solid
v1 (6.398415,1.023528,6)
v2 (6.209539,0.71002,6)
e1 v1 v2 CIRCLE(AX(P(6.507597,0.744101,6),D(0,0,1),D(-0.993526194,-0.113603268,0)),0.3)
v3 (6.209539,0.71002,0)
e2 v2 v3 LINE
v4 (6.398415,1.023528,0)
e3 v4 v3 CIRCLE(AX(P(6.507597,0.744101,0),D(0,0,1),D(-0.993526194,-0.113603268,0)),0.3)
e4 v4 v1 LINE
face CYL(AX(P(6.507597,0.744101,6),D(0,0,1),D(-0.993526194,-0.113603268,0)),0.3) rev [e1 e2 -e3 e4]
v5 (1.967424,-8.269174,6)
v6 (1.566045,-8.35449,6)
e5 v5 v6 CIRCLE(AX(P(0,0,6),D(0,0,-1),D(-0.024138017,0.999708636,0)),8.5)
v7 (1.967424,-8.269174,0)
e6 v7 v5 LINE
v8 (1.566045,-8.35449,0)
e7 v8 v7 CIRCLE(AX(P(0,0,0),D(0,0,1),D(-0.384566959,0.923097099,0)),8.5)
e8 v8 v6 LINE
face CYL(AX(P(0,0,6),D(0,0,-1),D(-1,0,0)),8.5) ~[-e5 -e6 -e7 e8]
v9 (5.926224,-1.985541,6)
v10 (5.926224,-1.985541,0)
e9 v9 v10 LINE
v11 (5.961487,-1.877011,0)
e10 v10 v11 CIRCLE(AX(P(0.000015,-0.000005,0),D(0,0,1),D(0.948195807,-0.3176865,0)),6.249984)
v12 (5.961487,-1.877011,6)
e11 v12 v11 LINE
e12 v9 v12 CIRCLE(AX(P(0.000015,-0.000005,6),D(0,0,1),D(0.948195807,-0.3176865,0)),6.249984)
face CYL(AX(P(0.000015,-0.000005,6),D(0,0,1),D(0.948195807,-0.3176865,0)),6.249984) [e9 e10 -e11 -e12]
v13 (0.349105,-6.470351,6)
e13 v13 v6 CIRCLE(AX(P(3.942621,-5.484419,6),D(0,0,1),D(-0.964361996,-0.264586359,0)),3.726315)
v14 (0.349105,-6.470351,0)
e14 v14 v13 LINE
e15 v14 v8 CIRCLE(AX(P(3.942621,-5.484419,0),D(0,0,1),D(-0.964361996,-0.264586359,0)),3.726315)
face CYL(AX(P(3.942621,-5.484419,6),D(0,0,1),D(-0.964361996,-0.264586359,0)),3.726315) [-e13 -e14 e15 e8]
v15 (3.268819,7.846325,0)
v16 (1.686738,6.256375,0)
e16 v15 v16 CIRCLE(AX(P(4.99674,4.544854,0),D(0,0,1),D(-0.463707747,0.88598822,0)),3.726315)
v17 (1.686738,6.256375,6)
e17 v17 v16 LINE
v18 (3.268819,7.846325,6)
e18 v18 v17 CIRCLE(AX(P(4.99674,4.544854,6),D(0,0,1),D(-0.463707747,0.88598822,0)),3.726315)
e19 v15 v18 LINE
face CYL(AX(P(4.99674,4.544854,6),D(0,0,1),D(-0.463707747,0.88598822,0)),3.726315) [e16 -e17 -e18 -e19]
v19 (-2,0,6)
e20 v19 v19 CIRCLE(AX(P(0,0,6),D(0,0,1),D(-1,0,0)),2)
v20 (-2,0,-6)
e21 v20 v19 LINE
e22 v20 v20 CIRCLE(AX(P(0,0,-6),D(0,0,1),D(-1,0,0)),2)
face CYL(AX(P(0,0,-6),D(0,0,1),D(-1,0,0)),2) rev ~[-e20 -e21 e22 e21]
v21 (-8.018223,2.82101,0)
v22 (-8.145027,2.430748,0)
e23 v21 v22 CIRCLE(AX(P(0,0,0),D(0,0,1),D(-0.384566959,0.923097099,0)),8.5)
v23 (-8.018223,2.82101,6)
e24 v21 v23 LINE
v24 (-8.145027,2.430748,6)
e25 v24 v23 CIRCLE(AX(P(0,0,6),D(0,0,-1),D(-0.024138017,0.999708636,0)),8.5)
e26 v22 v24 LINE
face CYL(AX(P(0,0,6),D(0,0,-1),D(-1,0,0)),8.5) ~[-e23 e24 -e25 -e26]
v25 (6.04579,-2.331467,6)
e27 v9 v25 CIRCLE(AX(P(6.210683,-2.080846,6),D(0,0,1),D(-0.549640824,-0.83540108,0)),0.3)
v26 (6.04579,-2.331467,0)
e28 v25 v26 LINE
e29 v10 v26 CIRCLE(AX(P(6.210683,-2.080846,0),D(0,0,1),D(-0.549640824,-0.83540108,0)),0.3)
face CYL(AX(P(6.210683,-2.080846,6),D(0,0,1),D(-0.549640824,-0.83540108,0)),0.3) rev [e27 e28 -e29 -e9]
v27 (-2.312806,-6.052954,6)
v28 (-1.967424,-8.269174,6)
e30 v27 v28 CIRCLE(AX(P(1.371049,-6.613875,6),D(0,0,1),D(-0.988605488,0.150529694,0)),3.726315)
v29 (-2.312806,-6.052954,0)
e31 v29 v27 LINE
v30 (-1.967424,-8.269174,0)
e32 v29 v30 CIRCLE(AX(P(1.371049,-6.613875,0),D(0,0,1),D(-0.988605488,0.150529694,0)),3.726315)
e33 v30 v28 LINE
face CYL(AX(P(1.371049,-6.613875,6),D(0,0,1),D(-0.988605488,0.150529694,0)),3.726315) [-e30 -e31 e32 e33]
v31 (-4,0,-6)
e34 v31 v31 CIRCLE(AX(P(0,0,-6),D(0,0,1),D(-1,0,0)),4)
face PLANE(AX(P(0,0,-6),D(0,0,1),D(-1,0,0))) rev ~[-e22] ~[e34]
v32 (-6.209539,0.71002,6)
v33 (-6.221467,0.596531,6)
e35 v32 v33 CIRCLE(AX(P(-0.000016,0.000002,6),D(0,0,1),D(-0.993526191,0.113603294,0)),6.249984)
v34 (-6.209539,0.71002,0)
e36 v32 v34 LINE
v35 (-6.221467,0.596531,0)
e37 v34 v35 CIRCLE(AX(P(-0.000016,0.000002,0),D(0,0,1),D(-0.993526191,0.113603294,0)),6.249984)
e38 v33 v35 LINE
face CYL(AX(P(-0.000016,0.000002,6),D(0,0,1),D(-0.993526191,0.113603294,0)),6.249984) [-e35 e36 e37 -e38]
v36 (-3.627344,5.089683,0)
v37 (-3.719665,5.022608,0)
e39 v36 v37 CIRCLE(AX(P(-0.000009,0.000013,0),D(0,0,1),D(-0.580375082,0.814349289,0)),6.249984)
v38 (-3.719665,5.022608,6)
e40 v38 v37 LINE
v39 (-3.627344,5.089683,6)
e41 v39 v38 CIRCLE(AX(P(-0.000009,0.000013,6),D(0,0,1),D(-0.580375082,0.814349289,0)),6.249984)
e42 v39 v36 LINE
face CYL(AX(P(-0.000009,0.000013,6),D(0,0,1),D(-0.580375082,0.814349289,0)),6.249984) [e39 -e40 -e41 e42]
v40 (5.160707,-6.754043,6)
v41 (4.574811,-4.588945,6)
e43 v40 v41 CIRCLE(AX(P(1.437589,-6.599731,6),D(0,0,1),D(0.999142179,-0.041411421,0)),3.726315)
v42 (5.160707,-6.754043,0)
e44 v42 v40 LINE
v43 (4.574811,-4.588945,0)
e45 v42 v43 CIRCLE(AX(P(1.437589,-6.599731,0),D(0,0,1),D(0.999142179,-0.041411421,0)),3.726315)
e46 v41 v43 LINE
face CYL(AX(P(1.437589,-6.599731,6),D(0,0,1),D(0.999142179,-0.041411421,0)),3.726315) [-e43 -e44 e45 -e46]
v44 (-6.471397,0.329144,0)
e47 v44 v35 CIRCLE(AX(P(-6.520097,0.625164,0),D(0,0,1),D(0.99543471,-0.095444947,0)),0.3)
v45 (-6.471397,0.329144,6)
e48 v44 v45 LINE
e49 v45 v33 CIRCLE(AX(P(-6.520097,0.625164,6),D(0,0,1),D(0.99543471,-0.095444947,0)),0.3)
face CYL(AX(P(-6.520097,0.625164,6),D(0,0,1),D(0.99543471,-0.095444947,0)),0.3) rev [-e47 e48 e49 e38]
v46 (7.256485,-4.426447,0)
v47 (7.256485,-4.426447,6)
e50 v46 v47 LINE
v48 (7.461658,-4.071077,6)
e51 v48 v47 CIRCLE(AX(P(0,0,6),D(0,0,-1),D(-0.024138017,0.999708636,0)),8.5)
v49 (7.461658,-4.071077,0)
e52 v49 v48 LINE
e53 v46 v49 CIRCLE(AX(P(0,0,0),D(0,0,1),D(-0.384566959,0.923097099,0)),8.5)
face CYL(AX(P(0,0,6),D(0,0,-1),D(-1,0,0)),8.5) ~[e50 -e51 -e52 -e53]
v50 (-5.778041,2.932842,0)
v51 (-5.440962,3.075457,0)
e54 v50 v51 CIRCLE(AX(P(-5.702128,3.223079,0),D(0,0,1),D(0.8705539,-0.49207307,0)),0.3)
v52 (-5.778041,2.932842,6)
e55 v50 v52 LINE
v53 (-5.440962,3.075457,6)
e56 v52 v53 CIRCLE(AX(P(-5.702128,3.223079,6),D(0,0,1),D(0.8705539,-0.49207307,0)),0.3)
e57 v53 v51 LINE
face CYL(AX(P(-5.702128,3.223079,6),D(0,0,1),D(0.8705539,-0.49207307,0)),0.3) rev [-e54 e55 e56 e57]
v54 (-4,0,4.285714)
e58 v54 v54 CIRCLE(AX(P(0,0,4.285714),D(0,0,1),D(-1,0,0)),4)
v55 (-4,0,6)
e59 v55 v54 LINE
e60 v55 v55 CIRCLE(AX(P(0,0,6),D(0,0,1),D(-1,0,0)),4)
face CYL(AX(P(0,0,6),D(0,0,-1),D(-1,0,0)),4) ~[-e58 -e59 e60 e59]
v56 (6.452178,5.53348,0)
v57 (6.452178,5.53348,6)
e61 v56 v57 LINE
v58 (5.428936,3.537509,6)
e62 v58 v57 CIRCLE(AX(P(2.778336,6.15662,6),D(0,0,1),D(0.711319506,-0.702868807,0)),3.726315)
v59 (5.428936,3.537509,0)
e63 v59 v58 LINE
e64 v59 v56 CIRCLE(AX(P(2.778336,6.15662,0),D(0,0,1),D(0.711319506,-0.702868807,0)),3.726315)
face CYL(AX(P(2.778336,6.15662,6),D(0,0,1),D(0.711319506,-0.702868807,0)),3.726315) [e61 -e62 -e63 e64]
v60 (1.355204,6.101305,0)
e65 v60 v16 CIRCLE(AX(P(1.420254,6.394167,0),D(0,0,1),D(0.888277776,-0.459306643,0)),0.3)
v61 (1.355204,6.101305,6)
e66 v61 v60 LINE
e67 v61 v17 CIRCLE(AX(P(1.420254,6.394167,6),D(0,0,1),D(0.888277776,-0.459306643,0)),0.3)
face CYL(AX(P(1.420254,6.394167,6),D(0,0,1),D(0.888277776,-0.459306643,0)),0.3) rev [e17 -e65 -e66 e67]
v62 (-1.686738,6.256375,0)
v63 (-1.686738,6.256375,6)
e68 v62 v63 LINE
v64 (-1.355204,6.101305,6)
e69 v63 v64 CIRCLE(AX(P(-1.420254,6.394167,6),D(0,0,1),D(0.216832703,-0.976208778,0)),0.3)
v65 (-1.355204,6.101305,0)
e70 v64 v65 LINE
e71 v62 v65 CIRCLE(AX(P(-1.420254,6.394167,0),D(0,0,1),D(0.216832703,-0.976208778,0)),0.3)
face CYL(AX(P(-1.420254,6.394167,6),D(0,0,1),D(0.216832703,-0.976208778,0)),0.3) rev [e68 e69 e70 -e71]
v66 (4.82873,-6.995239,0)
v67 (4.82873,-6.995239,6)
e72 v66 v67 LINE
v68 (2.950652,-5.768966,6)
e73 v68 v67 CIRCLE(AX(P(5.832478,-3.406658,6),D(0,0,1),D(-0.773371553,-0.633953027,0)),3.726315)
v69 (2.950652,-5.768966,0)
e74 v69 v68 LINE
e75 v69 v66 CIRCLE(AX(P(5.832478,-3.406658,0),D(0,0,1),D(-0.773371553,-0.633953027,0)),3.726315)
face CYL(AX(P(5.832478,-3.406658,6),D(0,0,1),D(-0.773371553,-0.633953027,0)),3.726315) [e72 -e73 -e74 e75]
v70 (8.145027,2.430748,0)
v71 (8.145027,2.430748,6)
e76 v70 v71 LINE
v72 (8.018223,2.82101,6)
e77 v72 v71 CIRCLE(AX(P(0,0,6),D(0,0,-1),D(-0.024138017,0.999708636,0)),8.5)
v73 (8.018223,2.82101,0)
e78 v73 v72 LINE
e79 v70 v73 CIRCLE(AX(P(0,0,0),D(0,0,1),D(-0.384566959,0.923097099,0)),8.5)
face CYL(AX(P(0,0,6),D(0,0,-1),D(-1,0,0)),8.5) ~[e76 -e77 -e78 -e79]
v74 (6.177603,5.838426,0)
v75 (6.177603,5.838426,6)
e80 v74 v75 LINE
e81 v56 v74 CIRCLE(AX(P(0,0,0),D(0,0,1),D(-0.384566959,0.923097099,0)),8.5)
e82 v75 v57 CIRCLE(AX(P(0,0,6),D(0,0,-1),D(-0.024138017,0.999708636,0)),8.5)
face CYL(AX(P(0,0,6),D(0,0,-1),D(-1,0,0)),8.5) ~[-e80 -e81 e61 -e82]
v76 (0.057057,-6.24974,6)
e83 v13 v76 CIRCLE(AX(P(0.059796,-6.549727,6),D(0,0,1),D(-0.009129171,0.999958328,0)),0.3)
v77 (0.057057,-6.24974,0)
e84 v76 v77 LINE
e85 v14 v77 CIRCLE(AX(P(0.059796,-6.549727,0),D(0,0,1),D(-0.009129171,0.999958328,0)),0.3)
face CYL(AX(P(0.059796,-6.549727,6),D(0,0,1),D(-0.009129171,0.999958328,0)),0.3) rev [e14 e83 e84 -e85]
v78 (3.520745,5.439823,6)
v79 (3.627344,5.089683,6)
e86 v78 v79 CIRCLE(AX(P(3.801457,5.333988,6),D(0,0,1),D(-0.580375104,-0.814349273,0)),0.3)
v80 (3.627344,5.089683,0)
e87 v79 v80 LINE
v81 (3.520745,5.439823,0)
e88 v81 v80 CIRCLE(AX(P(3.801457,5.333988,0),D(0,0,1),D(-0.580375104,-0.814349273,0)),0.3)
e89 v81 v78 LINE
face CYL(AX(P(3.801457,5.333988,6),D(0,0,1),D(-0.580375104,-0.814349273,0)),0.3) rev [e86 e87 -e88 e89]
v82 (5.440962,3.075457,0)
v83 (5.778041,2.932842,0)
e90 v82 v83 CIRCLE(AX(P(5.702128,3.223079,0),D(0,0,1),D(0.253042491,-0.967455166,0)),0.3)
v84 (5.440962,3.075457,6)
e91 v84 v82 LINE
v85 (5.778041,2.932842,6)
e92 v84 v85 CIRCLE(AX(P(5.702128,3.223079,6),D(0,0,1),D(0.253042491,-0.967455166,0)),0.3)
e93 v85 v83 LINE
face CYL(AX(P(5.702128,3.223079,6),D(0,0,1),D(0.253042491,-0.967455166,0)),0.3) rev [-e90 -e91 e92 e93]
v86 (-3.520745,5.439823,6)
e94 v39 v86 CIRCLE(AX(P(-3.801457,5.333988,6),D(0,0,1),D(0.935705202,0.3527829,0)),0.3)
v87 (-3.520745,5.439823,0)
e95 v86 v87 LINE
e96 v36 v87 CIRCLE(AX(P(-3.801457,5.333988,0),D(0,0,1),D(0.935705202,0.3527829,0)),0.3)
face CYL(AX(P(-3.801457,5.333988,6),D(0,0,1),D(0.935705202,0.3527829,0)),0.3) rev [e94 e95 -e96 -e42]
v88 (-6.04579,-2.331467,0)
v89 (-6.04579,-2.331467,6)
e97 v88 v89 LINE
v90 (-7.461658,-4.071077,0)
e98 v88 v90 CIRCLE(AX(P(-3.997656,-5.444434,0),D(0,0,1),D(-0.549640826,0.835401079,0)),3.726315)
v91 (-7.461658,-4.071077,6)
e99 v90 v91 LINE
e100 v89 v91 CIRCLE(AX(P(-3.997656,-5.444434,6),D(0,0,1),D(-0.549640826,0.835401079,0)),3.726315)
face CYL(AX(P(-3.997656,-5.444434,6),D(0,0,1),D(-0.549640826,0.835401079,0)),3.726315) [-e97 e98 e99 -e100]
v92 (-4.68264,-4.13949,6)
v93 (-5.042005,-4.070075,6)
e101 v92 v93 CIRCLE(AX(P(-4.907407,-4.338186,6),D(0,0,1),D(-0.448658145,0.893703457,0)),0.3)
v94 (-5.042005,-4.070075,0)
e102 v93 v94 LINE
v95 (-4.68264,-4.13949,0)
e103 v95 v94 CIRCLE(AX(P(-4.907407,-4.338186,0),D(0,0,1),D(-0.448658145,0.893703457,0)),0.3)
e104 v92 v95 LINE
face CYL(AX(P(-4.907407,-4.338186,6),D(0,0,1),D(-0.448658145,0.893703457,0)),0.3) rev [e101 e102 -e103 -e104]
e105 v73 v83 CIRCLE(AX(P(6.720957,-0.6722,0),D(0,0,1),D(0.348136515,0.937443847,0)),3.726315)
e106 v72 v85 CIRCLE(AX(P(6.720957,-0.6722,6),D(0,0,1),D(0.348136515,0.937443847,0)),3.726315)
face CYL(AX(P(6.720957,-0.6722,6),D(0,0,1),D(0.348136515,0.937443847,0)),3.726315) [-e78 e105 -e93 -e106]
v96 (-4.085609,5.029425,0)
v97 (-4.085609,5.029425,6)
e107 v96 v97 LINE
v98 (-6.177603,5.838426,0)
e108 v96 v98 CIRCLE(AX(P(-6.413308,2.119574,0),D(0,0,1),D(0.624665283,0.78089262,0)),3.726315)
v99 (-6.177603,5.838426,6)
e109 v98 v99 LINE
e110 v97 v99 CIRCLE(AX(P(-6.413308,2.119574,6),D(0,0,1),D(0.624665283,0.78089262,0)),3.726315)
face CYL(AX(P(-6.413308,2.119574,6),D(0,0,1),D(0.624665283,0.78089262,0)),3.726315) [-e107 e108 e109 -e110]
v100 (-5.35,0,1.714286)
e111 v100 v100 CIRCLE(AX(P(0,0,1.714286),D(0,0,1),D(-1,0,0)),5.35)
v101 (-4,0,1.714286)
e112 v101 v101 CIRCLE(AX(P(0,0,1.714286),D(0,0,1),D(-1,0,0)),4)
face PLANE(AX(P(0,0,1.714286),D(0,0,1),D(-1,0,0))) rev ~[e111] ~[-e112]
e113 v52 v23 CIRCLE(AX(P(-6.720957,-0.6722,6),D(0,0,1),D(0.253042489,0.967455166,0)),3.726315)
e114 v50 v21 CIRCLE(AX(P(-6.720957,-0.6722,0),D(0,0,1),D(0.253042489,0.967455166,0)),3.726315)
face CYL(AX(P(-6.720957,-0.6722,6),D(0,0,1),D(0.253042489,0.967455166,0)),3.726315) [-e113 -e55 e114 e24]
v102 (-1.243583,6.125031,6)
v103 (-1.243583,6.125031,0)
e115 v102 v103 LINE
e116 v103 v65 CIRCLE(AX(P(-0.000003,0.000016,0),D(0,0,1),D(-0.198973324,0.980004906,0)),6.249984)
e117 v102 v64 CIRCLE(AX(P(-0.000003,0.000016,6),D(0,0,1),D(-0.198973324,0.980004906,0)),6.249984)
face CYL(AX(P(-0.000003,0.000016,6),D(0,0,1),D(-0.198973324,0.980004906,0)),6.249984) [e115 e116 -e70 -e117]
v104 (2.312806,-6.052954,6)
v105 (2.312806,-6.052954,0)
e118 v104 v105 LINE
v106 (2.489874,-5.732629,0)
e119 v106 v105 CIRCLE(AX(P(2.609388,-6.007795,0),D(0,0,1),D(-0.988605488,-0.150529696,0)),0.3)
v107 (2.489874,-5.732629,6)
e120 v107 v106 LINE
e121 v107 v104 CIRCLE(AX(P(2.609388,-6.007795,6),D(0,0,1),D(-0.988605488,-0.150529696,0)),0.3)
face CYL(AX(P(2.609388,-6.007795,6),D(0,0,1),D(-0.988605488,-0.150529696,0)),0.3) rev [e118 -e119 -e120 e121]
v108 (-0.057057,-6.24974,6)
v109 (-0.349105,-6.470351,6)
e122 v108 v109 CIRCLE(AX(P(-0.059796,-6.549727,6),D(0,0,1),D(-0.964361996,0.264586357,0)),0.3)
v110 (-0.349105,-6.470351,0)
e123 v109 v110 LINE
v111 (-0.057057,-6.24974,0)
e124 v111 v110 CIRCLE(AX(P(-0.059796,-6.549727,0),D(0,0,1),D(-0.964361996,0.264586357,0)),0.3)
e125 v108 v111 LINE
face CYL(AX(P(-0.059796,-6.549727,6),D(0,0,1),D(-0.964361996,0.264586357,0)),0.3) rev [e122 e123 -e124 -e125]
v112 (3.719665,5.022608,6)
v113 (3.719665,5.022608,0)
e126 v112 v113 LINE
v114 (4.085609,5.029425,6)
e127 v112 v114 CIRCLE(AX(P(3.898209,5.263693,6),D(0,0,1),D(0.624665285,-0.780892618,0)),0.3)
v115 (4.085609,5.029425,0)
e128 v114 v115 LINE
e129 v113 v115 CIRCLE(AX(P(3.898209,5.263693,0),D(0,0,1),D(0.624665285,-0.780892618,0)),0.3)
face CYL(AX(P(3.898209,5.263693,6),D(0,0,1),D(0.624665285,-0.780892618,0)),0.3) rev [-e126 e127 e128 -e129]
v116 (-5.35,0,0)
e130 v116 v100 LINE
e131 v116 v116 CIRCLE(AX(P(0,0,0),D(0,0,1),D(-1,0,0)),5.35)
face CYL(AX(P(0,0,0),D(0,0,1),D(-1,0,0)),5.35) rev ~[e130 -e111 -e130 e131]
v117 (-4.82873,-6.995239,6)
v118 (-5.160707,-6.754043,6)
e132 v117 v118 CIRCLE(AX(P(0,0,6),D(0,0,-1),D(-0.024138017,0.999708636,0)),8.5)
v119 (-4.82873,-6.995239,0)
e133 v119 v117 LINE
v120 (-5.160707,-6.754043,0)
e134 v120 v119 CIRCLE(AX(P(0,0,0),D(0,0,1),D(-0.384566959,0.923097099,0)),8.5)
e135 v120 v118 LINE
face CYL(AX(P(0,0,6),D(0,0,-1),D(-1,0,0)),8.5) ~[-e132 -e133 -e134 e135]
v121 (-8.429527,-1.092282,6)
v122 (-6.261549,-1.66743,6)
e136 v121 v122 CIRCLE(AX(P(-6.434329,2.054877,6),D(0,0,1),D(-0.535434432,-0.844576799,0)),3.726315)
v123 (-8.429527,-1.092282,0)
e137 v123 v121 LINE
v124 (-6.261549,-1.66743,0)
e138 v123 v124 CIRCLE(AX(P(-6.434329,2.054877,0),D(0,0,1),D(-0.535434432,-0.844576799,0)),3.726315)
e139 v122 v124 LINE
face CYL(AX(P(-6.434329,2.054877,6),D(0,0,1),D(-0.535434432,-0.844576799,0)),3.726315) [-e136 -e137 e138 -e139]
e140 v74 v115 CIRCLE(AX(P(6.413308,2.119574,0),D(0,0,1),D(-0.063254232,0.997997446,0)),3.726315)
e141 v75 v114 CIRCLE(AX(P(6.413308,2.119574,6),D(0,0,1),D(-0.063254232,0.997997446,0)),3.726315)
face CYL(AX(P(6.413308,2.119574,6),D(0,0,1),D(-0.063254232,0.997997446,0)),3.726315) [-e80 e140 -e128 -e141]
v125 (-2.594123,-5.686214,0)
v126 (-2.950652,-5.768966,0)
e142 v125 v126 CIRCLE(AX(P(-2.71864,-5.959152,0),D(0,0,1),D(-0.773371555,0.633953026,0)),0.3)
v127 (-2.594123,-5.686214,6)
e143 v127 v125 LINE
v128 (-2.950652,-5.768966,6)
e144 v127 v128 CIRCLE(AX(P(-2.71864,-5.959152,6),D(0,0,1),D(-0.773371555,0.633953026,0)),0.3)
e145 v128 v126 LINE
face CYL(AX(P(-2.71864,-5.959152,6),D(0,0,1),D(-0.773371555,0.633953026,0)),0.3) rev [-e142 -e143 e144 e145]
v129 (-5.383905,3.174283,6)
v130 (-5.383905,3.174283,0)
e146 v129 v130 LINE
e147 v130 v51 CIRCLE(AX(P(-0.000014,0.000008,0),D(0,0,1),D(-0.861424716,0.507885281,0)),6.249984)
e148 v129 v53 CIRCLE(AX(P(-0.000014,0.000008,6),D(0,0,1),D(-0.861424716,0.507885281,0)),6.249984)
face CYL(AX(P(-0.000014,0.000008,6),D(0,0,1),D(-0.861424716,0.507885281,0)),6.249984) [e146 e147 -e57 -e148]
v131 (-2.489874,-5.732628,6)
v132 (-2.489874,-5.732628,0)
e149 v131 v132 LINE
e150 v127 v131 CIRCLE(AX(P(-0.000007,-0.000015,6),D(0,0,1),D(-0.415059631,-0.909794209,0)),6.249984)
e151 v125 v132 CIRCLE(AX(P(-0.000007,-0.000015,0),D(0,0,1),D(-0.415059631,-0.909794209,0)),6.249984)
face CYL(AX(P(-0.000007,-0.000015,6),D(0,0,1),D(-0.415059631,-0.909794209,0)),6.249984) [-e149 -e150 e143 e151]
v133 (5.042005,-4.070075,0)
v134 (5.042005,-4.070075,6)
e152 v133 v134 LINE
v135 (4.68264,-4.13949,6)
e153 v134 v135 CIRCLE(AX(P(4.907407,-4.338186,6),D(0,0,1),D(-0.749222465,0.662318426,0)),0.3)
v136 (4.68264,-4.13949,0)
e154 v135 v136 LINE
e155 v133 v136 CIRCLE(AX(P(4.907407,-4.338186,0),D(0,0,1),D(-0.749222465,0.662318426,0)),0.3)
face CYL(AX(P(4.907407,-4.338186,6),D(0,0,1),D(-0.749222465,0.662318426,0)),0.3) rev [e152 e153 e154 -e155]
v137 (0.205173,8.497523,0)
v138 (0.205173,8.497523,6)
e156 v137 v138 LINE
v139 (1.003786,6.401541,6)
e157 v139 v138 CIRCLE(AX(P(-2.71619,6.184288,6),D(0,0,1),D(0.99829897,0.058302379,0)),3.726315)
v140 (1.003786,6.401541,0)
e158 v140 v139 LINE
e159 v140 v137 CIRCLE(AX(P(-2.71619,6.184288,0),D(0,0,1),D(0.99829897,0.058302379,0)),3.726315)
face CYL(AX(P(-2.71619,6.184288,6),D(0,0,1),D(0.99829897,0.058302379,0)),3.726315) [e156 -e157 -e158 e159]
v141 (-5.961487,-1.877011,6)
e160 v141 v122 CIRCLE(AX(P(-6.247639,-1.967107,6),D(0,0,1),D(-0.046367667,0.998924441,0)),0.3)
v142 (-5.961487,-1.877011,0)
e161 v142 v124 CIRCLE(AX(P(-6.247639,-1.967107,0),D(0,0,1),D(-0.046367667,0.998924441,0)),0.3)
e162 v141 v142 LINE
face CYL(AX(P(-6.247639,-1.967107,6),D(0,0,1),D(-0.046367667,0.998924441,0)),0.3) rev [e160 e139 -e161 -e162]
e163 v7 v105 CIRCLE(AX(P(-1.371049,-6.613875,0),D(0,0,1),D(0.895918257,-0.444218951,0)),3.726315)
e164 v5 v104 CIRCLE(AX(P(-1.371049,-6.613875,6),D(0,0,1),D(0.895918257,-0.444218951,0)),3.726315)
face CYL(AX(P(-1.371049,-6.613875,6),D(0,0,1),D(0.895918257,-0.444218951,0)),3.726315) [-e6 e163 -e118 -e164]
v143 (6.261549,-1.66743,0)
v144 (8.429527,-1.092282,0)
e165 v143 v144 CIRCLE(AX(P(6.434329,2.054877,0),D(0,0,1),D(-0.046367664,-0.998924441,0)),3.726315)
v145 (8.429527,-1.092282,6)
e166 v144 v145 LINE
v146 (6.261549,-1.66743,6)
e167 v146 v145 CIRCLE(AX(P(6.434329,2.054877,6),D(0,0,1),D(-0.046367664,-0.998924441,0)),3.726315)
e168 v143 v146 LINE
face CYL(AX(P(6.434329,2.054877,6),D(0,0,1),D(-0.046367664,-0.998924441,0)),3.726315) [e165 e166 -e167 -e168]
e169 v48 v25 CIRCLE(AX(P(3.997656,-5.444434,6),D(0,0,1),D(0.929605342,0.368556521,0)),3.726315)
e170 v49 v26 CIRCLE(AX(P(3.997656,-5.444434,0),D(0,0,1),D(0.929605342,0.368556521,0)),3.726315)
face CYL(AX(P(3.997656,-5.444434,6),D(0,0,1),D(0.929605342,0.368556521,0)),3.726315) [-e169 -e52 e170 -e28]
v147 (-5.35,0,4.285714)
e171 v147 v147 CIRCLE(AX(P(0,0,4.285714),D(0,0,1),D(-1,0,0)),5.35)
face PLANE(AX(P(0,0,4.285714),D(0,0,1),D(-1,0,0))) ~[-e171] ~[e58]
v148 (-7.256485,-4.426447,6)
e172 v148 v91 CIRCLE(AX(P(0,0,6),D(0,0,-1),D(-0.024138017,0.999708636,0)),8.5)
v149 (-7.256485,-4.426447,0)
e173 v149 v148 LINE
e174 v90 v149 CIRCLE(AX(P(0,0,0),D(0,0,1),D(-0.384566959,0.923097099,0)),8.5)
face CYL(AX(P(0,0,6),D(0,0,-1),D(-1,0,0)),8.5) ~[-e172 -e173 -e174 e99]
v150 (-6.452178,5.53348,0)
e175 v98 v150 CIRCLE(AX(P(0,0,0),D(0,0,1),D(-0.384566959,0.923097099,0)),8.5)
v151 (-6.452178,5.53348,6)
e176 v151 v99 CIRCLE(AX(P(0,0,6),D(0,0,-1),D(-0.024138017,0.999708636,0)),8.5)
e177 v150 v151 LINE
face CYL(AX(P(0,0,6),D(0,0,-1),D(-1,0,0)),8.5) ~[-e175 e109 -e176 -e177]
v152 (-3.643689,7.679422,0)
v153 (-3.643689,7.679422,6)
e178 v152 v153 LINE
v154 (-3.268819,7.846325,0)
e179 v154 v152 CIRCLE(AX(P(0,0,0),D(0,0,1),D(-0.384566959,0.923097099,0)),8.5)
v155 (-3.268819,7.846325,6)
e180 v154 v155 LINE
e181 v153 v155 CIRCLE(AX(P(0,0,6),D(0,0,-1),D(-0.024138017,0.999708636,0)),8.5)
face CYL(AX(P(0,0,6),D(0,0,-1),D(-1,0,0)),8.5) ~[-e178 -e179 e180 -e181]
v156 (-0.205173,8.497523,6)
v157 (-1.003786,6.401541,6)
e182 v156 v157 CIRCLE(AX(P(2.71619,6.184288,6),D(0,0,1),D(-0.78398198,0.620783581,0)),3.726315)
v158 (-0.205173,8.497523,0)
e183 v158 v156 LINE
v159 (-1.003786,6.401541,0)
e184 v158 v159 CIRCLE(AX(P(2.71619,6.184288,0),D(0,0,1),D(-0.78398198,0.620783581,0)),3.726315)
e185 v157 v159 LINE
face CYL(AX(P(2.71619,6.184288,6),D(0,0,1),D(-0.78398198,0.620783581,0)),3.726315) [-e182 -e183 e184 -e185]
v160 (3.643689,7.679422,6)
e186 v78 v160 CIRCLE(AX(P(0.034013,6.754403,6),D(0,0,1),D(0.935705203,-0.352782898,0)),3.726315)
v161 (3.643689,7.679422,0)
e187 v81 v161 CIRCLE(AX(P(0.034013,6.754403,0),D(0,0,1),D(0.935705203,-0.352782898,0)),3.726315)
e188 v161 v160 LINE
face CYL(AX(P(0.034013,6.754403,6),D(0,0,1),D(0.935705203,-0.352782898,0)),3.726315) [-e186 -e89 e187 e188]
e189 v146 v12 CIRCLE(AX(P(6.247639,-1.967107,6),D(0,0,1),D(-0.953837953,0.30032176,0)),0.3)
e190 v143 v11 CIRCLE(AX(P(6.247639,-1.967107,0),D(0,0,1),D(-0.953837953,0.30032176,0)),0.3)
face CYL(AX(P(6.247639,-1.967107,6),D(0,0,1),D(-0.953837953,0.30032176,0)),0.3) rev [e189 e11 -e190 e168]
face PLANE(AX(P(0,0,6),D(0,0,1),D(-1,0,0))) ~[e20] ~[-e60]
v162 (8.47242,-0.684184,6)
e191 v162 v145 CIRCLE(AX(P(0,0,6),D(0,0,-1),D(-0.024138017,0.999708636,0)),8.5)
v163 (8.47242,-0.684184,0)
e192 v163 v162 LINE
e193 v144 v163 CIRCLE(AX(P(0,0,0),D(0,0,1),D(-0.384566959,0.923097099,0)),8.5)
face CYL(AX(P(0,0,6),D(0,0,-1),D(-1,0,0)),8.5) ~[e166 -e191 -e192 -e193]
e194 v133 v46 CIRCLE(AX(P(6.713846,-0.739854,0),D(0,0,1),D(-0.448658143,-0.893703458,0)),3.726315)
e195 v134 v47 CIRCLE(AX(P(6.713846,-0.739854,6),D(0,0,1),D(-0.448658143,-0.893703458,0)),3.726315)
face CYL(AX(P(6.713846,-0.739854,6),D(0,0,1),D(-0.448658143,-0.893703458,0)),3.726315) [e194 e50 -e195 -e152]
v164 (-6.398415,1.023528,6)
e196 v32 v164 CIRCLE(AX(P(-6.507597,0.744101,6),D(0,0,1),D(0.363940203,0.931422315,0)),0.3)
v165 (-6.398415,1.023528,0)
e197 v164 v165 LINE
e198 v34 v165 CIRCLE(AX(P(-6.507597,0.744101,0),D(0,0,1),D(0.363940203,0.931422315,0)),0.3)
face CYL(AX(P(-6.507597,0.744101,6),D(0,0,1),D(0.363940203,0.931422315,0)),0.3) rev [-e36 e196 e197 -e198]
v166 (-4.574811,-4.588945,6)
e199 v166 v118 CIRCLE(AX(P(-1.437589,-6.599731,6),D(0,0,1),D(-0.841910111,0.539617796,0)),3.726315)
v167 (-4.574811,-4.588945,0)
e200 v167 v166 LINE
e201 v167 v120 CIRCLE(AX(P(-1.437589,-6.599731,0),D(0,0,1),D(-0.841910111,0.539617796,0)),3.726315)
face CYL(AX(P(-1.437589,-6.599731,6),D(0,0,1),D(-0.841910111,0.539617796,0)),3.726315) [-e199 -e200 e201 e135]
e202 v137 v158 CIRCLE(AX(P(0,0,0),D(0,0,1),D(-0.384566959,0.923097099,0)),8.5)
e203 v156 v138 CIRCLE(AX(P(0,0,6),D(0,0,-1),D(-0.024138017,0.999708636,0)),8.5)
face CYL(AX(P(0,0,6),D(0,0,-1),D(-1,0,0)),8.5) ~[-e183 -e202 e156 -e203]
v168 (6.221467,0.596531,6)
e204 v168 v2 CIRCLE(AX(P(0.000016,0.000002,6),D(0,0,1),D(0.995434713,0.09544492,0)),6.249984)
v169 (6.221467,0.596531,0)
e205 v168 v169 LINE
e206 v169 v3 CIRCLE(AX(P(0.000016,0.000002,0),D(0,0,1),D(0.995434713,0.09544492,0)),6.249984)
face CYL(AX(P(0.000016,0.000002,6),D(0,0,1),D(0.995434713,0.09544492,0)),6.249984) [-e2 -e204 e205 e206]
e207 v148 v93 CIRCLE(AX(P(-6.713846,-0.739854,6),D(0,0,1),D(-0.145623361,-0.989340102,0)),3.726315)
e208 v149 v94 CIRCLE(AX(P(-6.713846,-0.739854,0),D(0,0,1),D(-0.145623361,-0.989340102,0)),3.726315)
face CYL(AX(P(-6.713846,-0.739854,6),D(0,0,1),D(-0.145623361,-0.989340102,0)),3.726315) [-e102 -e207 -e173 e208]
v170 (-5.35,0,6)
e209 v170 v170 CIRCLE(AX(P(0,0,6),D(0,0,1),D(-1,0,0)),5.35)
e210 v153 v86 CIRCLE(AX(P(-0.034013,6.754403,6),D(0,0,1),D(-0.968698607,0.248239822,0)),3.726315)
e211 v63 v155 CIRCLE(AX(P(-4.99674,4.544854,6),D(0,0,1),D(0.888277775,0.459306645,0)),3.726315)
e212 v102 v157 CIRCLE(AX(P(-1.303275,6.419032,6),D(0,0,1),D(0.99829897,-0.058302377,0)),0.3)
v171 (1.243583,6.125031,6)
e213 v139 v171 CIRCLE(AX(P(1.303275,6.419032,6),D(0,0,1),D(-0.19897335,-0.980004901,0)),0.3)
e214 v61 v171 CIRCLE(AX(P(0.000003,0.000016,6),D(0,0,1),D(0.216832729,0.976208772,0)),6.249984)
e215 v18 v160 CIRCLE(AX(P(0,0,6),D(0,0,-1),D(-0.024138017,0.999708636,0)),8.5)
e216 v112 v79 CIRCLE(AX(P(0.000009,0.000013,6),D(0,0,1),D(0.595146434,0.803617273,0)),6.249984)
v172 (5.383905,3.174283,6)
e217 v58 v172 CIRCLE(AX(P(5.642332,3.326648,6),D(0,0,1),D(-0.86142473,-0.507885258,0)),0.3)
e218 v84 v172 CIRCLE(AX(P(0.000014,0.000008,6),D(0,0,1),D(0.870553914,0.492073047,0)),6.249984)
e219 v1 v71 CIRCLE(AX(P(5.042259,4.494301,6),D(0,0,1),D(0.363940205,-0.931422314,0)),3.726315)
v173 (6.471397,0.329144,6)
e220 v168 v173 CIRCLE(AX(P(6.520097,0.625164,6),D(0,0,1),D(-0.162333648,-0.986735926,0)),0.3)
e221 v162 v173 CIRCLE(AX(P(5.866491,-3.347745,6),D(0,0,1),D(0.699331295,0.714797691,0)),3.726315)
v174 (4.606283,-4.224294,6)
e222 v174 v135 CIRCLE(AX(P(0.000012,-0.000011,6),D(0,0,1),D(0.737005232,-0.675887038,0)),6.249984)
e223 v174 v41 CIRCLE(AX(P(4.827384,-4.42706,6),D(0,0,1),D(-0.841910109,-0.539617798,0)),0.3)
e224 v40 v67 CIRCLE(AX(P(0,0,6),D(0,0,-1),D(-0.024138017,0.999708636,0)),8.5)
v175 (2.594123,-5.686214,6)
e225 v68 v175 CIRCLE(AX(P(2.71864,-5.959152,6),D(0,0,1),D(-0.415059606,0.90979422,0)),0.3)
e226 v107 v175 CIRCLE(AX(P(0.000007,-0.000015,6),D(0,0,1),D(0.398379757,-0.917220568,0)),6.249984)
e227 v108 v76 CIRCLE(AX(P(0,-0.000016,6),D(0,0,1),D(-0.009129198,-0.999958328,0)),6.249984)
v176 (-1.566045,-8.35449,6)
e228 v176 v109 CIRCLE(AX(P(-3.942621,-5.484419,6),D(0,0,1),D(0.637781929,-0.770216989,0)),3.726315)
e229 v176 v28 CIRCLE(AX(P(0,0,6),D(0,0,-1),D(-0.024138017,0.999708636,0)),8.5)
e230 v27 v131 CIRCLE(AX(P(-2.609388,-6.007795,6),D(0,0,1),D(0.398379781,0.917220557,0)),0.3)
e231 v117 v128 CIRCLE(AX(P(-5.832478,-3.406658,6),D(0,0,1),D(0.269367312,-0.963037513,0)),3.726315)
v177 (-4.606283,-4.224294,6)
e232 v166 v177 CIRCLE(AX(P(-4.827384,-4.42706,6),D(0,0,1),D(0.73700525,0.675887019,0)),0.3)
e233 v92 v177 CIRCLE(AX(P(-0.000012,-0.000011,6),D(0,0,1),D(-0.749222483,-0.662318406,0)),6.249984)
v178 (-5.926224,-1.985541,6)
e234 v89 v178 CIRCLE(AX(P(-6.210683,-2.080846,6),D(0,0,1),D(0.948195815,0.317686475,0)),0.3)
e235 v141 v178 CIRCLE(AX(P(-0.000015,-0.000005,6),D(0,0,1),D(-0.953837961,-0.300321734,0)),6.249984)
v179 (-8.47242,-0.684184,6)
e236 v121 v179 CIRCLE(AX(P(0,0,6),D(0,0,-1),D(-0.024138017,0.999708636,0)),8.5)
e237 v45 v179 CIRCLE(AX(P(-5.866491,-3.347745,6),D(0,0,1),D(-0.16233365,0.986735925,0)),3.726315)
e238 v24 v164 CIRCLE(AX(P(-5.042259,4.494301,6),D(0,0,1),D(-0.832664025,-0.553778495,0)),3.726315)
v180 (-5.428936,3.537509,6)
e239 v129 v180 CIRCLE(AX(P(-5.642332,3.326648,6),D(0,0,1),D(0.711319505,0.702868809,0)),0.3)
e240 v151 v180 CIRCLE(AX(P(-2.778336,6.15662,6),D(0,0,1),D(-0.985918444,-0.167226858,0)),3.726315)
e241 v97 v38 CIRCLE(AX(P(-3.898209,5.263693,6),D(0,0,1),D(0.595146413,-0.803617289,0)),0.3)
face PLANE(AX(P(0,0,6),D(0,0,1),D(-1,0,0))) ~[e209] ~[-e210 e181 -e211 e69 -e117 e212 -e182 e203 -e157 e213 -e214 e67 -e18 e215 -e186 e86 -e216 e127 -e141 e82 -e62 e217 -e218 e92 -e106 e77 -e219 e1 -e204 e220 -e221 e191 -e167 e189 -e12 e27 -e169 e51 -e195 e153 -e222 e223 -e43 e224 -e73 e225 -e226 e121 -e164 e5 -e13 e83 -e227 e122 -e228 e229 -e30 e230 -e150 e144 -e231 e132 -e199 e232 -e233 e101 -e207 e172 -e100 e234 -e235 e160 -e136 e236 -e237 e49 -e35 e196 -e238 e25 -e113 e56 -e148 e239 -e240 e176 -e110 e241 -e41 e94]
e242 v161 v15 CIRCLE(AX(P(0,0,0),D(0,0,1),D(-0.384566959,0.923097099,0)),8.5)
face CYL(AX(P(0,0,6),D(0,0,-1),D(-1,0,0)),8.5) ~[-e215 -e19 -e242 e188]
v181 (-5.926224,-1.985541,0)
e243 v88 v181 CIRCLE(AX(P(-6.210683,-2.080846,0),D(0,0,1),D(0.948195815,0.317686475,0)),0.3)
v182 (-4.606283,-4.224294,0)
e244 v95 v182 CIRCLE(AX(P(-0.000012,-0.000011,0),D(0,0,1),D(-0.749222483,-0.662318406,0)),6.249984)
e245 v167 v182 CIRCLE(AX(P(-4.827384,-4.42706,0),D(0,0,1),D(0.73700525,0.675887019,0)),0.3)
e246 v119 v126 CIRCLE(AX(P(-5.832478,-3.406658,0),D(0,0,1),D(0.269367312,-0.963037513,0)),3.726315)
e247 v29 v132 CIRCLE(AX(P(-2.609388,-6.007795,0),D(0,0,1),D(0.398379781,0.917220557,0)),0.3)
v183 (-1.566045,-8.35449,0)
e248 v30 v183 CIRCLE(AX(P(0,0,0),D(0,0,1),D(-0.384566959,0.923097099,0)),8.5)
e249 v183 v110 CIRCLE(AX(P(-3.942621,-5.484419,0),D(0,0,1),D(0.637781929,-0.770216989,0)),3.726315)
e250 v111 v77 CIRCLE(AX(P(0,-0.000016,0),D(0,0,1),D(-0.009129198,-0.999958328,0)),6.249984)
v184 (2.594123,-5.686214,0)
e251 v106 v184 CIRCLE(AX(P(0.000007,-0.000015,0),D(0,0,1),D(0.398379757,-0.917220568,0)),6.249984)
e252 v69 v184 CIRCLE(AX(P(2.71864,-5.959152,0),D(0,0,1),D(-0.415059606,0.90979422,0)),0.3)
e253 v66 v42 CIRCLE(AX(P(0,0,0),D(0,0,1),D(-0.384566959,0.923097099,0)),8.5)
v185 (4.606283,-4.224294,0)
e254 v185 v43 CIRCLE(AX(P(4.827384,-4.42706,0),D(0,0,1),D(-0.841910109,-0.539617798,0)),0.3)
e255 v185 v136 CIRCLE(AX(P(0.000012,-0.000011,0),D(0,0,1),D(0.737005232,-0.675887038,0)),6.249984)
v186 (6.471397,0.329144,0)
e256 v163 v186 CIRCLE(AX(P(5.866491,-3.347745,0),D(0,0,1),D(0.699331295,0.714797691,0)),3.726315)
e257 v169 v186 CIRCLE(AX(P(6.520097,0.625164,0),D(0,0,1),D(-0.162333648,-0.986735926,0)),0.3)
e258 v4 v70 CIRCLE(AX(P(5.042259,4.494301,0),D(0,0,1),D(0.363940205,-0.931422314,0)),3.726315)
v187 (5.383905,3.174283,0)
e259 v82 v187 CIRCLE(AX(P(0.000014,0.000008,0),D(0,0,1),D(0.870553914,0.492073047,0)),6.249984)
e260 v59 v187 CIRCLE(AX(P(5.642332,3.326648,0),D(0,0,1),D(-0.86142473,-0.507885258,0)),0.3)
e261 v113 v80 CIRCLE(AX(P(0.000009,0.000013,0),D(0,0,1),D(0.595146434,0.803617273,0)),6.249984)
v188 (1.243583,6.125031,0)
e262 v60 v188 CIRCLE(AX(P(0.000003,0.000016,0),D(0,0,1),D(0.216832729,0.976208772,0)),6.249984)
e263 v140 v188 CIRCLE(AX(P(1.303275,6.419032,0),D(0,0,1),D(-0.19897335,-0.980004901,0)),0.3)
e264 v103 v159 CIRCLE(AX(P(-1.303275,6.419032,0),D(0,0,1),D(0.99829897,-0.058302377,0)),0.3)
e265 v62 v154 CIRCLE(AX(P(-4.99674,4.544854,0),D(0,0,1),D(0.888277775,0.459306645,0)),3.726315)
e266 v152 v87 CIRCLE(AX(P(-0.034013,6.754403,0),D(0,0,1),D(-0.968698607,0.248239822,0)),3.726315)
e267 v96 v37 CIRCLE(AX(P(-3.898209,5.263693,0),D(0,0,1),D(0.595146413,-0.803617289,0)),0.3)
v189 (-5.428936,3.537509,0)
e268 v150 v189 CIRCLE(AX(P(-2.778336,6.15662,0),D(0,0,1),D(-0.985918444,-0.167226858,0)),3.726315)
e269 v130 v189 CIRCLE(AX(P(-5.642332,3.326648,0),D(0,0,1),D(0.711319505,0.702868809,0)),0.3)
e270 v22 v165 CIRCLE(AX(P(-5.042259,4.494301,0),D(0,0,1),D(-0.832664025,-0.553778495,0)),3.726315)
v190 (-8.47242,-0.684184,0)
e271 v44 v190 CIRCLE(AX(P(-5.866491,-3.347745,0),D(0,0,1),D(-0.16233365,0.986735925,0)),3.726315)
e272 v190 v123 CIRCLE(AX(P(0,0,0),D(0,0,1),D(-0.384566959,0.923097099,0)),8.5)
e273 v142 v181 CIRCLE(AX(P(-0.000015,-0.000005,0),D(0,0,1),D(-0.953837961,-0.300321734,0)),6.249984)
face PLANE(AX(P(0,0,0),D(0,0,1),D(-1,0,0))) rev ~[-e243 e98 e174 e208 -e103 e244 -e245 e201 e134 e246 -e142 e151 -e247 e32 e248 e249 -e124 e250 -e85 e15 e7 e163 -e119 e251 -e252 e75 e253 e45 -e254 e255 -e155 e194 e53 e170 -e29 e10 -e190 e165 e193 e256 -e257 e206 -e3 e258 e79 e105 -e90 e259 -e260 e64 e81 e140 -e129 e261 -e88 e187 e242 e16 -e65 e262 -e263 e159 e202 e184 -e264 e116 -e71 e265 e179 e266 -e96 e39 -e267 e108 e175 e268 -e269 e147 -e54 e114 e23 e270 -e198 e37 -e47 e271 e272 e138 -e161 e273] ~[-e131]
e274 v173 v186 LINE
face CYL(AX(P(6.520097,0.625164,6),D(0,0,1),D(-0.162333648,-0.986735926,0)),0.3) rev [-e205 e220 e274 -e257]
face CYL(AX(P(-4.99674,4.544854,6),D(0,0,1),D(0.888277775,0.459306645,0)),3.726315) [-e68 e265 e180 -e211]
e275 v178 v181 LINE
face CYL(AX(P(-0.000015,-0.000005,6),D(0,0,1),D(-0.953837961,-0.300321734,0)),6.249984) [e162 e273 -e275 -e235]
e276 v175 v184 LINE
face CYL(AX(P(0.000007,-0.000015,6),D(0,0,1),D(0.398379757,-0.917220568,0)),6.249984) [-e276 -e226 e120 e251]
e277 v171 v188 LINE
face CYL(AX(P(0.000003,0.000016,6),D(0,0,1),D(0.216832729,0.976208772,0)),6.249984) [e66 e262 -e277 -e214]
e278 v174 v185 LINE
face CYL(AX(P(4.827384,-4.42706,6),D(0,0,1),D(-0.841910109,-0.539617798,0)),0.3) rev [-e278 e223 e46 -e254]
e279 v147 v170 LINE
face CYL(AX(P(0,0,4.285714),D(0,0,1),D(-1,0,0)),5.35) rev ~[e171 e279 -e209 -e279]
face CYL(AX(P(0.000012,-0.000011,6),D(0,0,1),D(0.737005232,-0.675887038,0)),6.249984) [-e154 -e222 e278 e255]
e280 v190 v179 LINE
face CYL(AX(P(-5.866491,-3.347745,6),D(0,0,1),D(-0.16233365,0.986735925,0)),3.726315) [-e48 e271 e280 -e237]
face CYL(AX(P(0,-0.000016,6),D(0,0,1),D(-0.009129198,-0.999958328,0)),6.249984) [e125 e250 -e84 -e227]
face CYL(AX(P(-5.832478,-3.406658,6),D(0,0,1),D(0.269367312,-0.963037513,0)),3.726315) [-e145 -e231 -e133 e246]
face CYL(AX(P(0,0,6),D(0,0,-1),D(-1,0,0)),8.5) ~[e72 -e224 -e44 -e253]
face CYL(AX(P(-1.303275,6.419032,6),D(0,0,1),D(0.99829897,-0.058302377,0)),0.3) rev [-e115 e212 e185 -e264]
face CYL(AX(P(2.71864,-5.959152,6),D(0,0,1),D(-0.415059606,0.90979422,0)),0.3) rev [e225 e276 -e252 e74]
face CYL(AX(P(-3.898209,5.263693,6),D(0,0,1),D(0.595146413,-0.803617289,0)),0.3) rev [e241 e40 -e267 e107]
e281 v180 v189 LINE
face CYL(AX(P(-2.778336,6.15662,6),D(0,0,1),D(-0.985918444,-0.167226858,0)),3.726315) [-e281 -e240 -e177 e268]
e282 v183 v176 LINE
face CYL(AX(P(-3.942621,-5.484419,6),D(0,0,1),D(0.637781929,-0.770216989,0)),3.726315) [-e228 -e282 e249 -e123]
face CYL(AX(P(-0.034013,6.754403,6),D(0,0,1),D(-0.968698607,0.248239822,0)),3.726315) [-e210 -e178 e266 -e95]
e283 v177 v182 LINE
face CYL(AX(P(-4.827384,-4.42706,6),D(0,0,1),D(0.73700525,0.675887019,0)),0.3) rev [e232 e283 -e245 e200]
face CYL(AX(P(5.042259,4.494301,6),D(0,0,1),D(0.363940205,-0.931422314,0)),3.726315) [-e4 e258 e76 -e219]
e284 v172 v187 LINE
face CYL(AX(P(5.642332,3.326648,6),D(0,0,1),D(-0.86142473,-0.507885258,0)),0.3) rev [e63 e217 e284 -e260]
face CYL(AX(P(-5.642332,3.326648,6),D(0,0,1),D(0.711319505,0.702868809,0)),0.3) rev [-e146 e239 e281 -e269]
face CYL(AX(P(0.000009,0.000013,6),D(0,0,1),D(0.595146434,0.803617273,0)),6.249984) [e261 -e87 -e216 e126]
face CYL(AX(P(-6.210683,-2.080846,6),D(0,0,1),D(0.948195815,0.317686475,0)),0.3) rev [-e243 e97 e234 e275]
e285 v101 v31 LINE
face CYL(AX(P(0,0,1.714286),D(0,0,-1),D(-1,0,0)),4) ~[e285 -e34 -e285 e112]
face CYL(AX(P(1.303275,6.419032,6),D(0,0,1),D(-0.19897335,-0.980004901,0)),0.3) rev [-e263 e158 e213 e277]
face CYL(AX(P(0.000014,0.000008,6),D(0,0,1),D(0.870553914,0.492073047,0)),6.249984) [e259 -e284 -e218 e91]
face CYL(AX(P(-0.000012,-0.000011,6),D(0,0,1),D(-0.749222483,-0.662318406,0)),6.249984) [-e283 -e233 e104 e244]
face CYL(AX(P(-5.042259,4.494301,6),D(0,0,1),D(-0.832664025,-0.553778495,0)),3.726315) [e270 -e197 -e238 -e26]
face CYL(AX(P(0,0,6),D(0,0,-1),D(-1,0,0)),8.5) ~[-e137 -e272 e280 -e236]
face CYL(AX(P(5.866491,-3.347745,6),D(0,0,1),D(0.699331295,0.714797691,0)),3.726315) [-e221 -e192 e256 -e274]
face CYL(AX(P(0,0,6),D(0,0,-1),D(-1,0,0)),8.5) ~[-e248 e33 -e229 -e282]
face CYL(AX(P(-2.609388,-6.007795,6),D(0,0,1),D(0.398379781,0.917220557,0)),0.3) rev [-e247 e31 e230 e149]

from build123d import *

# Parameters (mm, degrees)
CUT_EXTRUDE1_DEPTH = 17.985287751
CIRPATTERN1_COUNT  = 15


with BuildPart() as part:
    # Sketch3 → Revolve1 (revolve)
    with BuildSketch(Plane(origin=(0, 0, 0), x_dir=(0, 0, -1), z_dir=(1, 0, 0)), mode=Mode.PRIVATE) as revolve1_sk:
        Polygon((-6, 8.5), (0, 8.5), (0, 5.35), (-1.714285714, 5.35), (-1.714285714, 4), (6, 4), (6, 2), (-6, 2), (-6, 4), (-4.285714286, 4), (-4.285714286, 5.35), (-6, 5.35), align=None)
    revolve(revolve1_sk.sketch.rotate(Axis((0, 0, -6), (0, 0, 1)), 90), axis=Axis((0, 0, -6), (0, 0, 1)))

    # Sketch4 → Cut-Extrude1 (cut, symmetric)
    with BuildSketch(Plane.XY.offset(6)):
        with BuildLine():
            ThreePointArc((-0.205173142, 8.497523403), (-0.765925793, 7.511046812), (-1.003785702, 6.401541398))
            ThreePointArc((-1.003785702, 6.401541398), (-1.076631571, 6.222480393), (-1.24358339, 6.125030641))
            ThreePointArc((-1.24358339, 6.125030641), (-1.299448068, 6.113422505), (-1.355204444, 6.101304853))
            ThreePointArc((-1.355204444, 6.101304853), (-1.547358905, 6.12242421), (-1.68673759, 6.256375493))
            ThreePointArc((-1.68673759, 6.256375493), (-2.355309937, 7.173212783), (-3.268819151, 7.846325341))
            ThreePointArc((-3.268819151, 7.846325341), (-1.767249372, 8.314254606), (-0.205173142, 8.497523403))
        make_face()
    cut_extrude1 = extrude(amount=CUT_EXTRUDE1_DEPTH, both=True, mode=Mode.SUBTRACT)

    # CirPattern1: Cut-Extrude1 ×15 about axis
    cirpattern1_axis = Axis((0, 0, 0), (0, 0, 1))
    for i in range(1, CIRPATTERN1_COUNT):
        add(cut_extrude1.rotate(cirpattern1_axis, i * 360 / CIRPATTERN1_COUNT), mode=Mode.SUBTRACT)


solid = part.part
